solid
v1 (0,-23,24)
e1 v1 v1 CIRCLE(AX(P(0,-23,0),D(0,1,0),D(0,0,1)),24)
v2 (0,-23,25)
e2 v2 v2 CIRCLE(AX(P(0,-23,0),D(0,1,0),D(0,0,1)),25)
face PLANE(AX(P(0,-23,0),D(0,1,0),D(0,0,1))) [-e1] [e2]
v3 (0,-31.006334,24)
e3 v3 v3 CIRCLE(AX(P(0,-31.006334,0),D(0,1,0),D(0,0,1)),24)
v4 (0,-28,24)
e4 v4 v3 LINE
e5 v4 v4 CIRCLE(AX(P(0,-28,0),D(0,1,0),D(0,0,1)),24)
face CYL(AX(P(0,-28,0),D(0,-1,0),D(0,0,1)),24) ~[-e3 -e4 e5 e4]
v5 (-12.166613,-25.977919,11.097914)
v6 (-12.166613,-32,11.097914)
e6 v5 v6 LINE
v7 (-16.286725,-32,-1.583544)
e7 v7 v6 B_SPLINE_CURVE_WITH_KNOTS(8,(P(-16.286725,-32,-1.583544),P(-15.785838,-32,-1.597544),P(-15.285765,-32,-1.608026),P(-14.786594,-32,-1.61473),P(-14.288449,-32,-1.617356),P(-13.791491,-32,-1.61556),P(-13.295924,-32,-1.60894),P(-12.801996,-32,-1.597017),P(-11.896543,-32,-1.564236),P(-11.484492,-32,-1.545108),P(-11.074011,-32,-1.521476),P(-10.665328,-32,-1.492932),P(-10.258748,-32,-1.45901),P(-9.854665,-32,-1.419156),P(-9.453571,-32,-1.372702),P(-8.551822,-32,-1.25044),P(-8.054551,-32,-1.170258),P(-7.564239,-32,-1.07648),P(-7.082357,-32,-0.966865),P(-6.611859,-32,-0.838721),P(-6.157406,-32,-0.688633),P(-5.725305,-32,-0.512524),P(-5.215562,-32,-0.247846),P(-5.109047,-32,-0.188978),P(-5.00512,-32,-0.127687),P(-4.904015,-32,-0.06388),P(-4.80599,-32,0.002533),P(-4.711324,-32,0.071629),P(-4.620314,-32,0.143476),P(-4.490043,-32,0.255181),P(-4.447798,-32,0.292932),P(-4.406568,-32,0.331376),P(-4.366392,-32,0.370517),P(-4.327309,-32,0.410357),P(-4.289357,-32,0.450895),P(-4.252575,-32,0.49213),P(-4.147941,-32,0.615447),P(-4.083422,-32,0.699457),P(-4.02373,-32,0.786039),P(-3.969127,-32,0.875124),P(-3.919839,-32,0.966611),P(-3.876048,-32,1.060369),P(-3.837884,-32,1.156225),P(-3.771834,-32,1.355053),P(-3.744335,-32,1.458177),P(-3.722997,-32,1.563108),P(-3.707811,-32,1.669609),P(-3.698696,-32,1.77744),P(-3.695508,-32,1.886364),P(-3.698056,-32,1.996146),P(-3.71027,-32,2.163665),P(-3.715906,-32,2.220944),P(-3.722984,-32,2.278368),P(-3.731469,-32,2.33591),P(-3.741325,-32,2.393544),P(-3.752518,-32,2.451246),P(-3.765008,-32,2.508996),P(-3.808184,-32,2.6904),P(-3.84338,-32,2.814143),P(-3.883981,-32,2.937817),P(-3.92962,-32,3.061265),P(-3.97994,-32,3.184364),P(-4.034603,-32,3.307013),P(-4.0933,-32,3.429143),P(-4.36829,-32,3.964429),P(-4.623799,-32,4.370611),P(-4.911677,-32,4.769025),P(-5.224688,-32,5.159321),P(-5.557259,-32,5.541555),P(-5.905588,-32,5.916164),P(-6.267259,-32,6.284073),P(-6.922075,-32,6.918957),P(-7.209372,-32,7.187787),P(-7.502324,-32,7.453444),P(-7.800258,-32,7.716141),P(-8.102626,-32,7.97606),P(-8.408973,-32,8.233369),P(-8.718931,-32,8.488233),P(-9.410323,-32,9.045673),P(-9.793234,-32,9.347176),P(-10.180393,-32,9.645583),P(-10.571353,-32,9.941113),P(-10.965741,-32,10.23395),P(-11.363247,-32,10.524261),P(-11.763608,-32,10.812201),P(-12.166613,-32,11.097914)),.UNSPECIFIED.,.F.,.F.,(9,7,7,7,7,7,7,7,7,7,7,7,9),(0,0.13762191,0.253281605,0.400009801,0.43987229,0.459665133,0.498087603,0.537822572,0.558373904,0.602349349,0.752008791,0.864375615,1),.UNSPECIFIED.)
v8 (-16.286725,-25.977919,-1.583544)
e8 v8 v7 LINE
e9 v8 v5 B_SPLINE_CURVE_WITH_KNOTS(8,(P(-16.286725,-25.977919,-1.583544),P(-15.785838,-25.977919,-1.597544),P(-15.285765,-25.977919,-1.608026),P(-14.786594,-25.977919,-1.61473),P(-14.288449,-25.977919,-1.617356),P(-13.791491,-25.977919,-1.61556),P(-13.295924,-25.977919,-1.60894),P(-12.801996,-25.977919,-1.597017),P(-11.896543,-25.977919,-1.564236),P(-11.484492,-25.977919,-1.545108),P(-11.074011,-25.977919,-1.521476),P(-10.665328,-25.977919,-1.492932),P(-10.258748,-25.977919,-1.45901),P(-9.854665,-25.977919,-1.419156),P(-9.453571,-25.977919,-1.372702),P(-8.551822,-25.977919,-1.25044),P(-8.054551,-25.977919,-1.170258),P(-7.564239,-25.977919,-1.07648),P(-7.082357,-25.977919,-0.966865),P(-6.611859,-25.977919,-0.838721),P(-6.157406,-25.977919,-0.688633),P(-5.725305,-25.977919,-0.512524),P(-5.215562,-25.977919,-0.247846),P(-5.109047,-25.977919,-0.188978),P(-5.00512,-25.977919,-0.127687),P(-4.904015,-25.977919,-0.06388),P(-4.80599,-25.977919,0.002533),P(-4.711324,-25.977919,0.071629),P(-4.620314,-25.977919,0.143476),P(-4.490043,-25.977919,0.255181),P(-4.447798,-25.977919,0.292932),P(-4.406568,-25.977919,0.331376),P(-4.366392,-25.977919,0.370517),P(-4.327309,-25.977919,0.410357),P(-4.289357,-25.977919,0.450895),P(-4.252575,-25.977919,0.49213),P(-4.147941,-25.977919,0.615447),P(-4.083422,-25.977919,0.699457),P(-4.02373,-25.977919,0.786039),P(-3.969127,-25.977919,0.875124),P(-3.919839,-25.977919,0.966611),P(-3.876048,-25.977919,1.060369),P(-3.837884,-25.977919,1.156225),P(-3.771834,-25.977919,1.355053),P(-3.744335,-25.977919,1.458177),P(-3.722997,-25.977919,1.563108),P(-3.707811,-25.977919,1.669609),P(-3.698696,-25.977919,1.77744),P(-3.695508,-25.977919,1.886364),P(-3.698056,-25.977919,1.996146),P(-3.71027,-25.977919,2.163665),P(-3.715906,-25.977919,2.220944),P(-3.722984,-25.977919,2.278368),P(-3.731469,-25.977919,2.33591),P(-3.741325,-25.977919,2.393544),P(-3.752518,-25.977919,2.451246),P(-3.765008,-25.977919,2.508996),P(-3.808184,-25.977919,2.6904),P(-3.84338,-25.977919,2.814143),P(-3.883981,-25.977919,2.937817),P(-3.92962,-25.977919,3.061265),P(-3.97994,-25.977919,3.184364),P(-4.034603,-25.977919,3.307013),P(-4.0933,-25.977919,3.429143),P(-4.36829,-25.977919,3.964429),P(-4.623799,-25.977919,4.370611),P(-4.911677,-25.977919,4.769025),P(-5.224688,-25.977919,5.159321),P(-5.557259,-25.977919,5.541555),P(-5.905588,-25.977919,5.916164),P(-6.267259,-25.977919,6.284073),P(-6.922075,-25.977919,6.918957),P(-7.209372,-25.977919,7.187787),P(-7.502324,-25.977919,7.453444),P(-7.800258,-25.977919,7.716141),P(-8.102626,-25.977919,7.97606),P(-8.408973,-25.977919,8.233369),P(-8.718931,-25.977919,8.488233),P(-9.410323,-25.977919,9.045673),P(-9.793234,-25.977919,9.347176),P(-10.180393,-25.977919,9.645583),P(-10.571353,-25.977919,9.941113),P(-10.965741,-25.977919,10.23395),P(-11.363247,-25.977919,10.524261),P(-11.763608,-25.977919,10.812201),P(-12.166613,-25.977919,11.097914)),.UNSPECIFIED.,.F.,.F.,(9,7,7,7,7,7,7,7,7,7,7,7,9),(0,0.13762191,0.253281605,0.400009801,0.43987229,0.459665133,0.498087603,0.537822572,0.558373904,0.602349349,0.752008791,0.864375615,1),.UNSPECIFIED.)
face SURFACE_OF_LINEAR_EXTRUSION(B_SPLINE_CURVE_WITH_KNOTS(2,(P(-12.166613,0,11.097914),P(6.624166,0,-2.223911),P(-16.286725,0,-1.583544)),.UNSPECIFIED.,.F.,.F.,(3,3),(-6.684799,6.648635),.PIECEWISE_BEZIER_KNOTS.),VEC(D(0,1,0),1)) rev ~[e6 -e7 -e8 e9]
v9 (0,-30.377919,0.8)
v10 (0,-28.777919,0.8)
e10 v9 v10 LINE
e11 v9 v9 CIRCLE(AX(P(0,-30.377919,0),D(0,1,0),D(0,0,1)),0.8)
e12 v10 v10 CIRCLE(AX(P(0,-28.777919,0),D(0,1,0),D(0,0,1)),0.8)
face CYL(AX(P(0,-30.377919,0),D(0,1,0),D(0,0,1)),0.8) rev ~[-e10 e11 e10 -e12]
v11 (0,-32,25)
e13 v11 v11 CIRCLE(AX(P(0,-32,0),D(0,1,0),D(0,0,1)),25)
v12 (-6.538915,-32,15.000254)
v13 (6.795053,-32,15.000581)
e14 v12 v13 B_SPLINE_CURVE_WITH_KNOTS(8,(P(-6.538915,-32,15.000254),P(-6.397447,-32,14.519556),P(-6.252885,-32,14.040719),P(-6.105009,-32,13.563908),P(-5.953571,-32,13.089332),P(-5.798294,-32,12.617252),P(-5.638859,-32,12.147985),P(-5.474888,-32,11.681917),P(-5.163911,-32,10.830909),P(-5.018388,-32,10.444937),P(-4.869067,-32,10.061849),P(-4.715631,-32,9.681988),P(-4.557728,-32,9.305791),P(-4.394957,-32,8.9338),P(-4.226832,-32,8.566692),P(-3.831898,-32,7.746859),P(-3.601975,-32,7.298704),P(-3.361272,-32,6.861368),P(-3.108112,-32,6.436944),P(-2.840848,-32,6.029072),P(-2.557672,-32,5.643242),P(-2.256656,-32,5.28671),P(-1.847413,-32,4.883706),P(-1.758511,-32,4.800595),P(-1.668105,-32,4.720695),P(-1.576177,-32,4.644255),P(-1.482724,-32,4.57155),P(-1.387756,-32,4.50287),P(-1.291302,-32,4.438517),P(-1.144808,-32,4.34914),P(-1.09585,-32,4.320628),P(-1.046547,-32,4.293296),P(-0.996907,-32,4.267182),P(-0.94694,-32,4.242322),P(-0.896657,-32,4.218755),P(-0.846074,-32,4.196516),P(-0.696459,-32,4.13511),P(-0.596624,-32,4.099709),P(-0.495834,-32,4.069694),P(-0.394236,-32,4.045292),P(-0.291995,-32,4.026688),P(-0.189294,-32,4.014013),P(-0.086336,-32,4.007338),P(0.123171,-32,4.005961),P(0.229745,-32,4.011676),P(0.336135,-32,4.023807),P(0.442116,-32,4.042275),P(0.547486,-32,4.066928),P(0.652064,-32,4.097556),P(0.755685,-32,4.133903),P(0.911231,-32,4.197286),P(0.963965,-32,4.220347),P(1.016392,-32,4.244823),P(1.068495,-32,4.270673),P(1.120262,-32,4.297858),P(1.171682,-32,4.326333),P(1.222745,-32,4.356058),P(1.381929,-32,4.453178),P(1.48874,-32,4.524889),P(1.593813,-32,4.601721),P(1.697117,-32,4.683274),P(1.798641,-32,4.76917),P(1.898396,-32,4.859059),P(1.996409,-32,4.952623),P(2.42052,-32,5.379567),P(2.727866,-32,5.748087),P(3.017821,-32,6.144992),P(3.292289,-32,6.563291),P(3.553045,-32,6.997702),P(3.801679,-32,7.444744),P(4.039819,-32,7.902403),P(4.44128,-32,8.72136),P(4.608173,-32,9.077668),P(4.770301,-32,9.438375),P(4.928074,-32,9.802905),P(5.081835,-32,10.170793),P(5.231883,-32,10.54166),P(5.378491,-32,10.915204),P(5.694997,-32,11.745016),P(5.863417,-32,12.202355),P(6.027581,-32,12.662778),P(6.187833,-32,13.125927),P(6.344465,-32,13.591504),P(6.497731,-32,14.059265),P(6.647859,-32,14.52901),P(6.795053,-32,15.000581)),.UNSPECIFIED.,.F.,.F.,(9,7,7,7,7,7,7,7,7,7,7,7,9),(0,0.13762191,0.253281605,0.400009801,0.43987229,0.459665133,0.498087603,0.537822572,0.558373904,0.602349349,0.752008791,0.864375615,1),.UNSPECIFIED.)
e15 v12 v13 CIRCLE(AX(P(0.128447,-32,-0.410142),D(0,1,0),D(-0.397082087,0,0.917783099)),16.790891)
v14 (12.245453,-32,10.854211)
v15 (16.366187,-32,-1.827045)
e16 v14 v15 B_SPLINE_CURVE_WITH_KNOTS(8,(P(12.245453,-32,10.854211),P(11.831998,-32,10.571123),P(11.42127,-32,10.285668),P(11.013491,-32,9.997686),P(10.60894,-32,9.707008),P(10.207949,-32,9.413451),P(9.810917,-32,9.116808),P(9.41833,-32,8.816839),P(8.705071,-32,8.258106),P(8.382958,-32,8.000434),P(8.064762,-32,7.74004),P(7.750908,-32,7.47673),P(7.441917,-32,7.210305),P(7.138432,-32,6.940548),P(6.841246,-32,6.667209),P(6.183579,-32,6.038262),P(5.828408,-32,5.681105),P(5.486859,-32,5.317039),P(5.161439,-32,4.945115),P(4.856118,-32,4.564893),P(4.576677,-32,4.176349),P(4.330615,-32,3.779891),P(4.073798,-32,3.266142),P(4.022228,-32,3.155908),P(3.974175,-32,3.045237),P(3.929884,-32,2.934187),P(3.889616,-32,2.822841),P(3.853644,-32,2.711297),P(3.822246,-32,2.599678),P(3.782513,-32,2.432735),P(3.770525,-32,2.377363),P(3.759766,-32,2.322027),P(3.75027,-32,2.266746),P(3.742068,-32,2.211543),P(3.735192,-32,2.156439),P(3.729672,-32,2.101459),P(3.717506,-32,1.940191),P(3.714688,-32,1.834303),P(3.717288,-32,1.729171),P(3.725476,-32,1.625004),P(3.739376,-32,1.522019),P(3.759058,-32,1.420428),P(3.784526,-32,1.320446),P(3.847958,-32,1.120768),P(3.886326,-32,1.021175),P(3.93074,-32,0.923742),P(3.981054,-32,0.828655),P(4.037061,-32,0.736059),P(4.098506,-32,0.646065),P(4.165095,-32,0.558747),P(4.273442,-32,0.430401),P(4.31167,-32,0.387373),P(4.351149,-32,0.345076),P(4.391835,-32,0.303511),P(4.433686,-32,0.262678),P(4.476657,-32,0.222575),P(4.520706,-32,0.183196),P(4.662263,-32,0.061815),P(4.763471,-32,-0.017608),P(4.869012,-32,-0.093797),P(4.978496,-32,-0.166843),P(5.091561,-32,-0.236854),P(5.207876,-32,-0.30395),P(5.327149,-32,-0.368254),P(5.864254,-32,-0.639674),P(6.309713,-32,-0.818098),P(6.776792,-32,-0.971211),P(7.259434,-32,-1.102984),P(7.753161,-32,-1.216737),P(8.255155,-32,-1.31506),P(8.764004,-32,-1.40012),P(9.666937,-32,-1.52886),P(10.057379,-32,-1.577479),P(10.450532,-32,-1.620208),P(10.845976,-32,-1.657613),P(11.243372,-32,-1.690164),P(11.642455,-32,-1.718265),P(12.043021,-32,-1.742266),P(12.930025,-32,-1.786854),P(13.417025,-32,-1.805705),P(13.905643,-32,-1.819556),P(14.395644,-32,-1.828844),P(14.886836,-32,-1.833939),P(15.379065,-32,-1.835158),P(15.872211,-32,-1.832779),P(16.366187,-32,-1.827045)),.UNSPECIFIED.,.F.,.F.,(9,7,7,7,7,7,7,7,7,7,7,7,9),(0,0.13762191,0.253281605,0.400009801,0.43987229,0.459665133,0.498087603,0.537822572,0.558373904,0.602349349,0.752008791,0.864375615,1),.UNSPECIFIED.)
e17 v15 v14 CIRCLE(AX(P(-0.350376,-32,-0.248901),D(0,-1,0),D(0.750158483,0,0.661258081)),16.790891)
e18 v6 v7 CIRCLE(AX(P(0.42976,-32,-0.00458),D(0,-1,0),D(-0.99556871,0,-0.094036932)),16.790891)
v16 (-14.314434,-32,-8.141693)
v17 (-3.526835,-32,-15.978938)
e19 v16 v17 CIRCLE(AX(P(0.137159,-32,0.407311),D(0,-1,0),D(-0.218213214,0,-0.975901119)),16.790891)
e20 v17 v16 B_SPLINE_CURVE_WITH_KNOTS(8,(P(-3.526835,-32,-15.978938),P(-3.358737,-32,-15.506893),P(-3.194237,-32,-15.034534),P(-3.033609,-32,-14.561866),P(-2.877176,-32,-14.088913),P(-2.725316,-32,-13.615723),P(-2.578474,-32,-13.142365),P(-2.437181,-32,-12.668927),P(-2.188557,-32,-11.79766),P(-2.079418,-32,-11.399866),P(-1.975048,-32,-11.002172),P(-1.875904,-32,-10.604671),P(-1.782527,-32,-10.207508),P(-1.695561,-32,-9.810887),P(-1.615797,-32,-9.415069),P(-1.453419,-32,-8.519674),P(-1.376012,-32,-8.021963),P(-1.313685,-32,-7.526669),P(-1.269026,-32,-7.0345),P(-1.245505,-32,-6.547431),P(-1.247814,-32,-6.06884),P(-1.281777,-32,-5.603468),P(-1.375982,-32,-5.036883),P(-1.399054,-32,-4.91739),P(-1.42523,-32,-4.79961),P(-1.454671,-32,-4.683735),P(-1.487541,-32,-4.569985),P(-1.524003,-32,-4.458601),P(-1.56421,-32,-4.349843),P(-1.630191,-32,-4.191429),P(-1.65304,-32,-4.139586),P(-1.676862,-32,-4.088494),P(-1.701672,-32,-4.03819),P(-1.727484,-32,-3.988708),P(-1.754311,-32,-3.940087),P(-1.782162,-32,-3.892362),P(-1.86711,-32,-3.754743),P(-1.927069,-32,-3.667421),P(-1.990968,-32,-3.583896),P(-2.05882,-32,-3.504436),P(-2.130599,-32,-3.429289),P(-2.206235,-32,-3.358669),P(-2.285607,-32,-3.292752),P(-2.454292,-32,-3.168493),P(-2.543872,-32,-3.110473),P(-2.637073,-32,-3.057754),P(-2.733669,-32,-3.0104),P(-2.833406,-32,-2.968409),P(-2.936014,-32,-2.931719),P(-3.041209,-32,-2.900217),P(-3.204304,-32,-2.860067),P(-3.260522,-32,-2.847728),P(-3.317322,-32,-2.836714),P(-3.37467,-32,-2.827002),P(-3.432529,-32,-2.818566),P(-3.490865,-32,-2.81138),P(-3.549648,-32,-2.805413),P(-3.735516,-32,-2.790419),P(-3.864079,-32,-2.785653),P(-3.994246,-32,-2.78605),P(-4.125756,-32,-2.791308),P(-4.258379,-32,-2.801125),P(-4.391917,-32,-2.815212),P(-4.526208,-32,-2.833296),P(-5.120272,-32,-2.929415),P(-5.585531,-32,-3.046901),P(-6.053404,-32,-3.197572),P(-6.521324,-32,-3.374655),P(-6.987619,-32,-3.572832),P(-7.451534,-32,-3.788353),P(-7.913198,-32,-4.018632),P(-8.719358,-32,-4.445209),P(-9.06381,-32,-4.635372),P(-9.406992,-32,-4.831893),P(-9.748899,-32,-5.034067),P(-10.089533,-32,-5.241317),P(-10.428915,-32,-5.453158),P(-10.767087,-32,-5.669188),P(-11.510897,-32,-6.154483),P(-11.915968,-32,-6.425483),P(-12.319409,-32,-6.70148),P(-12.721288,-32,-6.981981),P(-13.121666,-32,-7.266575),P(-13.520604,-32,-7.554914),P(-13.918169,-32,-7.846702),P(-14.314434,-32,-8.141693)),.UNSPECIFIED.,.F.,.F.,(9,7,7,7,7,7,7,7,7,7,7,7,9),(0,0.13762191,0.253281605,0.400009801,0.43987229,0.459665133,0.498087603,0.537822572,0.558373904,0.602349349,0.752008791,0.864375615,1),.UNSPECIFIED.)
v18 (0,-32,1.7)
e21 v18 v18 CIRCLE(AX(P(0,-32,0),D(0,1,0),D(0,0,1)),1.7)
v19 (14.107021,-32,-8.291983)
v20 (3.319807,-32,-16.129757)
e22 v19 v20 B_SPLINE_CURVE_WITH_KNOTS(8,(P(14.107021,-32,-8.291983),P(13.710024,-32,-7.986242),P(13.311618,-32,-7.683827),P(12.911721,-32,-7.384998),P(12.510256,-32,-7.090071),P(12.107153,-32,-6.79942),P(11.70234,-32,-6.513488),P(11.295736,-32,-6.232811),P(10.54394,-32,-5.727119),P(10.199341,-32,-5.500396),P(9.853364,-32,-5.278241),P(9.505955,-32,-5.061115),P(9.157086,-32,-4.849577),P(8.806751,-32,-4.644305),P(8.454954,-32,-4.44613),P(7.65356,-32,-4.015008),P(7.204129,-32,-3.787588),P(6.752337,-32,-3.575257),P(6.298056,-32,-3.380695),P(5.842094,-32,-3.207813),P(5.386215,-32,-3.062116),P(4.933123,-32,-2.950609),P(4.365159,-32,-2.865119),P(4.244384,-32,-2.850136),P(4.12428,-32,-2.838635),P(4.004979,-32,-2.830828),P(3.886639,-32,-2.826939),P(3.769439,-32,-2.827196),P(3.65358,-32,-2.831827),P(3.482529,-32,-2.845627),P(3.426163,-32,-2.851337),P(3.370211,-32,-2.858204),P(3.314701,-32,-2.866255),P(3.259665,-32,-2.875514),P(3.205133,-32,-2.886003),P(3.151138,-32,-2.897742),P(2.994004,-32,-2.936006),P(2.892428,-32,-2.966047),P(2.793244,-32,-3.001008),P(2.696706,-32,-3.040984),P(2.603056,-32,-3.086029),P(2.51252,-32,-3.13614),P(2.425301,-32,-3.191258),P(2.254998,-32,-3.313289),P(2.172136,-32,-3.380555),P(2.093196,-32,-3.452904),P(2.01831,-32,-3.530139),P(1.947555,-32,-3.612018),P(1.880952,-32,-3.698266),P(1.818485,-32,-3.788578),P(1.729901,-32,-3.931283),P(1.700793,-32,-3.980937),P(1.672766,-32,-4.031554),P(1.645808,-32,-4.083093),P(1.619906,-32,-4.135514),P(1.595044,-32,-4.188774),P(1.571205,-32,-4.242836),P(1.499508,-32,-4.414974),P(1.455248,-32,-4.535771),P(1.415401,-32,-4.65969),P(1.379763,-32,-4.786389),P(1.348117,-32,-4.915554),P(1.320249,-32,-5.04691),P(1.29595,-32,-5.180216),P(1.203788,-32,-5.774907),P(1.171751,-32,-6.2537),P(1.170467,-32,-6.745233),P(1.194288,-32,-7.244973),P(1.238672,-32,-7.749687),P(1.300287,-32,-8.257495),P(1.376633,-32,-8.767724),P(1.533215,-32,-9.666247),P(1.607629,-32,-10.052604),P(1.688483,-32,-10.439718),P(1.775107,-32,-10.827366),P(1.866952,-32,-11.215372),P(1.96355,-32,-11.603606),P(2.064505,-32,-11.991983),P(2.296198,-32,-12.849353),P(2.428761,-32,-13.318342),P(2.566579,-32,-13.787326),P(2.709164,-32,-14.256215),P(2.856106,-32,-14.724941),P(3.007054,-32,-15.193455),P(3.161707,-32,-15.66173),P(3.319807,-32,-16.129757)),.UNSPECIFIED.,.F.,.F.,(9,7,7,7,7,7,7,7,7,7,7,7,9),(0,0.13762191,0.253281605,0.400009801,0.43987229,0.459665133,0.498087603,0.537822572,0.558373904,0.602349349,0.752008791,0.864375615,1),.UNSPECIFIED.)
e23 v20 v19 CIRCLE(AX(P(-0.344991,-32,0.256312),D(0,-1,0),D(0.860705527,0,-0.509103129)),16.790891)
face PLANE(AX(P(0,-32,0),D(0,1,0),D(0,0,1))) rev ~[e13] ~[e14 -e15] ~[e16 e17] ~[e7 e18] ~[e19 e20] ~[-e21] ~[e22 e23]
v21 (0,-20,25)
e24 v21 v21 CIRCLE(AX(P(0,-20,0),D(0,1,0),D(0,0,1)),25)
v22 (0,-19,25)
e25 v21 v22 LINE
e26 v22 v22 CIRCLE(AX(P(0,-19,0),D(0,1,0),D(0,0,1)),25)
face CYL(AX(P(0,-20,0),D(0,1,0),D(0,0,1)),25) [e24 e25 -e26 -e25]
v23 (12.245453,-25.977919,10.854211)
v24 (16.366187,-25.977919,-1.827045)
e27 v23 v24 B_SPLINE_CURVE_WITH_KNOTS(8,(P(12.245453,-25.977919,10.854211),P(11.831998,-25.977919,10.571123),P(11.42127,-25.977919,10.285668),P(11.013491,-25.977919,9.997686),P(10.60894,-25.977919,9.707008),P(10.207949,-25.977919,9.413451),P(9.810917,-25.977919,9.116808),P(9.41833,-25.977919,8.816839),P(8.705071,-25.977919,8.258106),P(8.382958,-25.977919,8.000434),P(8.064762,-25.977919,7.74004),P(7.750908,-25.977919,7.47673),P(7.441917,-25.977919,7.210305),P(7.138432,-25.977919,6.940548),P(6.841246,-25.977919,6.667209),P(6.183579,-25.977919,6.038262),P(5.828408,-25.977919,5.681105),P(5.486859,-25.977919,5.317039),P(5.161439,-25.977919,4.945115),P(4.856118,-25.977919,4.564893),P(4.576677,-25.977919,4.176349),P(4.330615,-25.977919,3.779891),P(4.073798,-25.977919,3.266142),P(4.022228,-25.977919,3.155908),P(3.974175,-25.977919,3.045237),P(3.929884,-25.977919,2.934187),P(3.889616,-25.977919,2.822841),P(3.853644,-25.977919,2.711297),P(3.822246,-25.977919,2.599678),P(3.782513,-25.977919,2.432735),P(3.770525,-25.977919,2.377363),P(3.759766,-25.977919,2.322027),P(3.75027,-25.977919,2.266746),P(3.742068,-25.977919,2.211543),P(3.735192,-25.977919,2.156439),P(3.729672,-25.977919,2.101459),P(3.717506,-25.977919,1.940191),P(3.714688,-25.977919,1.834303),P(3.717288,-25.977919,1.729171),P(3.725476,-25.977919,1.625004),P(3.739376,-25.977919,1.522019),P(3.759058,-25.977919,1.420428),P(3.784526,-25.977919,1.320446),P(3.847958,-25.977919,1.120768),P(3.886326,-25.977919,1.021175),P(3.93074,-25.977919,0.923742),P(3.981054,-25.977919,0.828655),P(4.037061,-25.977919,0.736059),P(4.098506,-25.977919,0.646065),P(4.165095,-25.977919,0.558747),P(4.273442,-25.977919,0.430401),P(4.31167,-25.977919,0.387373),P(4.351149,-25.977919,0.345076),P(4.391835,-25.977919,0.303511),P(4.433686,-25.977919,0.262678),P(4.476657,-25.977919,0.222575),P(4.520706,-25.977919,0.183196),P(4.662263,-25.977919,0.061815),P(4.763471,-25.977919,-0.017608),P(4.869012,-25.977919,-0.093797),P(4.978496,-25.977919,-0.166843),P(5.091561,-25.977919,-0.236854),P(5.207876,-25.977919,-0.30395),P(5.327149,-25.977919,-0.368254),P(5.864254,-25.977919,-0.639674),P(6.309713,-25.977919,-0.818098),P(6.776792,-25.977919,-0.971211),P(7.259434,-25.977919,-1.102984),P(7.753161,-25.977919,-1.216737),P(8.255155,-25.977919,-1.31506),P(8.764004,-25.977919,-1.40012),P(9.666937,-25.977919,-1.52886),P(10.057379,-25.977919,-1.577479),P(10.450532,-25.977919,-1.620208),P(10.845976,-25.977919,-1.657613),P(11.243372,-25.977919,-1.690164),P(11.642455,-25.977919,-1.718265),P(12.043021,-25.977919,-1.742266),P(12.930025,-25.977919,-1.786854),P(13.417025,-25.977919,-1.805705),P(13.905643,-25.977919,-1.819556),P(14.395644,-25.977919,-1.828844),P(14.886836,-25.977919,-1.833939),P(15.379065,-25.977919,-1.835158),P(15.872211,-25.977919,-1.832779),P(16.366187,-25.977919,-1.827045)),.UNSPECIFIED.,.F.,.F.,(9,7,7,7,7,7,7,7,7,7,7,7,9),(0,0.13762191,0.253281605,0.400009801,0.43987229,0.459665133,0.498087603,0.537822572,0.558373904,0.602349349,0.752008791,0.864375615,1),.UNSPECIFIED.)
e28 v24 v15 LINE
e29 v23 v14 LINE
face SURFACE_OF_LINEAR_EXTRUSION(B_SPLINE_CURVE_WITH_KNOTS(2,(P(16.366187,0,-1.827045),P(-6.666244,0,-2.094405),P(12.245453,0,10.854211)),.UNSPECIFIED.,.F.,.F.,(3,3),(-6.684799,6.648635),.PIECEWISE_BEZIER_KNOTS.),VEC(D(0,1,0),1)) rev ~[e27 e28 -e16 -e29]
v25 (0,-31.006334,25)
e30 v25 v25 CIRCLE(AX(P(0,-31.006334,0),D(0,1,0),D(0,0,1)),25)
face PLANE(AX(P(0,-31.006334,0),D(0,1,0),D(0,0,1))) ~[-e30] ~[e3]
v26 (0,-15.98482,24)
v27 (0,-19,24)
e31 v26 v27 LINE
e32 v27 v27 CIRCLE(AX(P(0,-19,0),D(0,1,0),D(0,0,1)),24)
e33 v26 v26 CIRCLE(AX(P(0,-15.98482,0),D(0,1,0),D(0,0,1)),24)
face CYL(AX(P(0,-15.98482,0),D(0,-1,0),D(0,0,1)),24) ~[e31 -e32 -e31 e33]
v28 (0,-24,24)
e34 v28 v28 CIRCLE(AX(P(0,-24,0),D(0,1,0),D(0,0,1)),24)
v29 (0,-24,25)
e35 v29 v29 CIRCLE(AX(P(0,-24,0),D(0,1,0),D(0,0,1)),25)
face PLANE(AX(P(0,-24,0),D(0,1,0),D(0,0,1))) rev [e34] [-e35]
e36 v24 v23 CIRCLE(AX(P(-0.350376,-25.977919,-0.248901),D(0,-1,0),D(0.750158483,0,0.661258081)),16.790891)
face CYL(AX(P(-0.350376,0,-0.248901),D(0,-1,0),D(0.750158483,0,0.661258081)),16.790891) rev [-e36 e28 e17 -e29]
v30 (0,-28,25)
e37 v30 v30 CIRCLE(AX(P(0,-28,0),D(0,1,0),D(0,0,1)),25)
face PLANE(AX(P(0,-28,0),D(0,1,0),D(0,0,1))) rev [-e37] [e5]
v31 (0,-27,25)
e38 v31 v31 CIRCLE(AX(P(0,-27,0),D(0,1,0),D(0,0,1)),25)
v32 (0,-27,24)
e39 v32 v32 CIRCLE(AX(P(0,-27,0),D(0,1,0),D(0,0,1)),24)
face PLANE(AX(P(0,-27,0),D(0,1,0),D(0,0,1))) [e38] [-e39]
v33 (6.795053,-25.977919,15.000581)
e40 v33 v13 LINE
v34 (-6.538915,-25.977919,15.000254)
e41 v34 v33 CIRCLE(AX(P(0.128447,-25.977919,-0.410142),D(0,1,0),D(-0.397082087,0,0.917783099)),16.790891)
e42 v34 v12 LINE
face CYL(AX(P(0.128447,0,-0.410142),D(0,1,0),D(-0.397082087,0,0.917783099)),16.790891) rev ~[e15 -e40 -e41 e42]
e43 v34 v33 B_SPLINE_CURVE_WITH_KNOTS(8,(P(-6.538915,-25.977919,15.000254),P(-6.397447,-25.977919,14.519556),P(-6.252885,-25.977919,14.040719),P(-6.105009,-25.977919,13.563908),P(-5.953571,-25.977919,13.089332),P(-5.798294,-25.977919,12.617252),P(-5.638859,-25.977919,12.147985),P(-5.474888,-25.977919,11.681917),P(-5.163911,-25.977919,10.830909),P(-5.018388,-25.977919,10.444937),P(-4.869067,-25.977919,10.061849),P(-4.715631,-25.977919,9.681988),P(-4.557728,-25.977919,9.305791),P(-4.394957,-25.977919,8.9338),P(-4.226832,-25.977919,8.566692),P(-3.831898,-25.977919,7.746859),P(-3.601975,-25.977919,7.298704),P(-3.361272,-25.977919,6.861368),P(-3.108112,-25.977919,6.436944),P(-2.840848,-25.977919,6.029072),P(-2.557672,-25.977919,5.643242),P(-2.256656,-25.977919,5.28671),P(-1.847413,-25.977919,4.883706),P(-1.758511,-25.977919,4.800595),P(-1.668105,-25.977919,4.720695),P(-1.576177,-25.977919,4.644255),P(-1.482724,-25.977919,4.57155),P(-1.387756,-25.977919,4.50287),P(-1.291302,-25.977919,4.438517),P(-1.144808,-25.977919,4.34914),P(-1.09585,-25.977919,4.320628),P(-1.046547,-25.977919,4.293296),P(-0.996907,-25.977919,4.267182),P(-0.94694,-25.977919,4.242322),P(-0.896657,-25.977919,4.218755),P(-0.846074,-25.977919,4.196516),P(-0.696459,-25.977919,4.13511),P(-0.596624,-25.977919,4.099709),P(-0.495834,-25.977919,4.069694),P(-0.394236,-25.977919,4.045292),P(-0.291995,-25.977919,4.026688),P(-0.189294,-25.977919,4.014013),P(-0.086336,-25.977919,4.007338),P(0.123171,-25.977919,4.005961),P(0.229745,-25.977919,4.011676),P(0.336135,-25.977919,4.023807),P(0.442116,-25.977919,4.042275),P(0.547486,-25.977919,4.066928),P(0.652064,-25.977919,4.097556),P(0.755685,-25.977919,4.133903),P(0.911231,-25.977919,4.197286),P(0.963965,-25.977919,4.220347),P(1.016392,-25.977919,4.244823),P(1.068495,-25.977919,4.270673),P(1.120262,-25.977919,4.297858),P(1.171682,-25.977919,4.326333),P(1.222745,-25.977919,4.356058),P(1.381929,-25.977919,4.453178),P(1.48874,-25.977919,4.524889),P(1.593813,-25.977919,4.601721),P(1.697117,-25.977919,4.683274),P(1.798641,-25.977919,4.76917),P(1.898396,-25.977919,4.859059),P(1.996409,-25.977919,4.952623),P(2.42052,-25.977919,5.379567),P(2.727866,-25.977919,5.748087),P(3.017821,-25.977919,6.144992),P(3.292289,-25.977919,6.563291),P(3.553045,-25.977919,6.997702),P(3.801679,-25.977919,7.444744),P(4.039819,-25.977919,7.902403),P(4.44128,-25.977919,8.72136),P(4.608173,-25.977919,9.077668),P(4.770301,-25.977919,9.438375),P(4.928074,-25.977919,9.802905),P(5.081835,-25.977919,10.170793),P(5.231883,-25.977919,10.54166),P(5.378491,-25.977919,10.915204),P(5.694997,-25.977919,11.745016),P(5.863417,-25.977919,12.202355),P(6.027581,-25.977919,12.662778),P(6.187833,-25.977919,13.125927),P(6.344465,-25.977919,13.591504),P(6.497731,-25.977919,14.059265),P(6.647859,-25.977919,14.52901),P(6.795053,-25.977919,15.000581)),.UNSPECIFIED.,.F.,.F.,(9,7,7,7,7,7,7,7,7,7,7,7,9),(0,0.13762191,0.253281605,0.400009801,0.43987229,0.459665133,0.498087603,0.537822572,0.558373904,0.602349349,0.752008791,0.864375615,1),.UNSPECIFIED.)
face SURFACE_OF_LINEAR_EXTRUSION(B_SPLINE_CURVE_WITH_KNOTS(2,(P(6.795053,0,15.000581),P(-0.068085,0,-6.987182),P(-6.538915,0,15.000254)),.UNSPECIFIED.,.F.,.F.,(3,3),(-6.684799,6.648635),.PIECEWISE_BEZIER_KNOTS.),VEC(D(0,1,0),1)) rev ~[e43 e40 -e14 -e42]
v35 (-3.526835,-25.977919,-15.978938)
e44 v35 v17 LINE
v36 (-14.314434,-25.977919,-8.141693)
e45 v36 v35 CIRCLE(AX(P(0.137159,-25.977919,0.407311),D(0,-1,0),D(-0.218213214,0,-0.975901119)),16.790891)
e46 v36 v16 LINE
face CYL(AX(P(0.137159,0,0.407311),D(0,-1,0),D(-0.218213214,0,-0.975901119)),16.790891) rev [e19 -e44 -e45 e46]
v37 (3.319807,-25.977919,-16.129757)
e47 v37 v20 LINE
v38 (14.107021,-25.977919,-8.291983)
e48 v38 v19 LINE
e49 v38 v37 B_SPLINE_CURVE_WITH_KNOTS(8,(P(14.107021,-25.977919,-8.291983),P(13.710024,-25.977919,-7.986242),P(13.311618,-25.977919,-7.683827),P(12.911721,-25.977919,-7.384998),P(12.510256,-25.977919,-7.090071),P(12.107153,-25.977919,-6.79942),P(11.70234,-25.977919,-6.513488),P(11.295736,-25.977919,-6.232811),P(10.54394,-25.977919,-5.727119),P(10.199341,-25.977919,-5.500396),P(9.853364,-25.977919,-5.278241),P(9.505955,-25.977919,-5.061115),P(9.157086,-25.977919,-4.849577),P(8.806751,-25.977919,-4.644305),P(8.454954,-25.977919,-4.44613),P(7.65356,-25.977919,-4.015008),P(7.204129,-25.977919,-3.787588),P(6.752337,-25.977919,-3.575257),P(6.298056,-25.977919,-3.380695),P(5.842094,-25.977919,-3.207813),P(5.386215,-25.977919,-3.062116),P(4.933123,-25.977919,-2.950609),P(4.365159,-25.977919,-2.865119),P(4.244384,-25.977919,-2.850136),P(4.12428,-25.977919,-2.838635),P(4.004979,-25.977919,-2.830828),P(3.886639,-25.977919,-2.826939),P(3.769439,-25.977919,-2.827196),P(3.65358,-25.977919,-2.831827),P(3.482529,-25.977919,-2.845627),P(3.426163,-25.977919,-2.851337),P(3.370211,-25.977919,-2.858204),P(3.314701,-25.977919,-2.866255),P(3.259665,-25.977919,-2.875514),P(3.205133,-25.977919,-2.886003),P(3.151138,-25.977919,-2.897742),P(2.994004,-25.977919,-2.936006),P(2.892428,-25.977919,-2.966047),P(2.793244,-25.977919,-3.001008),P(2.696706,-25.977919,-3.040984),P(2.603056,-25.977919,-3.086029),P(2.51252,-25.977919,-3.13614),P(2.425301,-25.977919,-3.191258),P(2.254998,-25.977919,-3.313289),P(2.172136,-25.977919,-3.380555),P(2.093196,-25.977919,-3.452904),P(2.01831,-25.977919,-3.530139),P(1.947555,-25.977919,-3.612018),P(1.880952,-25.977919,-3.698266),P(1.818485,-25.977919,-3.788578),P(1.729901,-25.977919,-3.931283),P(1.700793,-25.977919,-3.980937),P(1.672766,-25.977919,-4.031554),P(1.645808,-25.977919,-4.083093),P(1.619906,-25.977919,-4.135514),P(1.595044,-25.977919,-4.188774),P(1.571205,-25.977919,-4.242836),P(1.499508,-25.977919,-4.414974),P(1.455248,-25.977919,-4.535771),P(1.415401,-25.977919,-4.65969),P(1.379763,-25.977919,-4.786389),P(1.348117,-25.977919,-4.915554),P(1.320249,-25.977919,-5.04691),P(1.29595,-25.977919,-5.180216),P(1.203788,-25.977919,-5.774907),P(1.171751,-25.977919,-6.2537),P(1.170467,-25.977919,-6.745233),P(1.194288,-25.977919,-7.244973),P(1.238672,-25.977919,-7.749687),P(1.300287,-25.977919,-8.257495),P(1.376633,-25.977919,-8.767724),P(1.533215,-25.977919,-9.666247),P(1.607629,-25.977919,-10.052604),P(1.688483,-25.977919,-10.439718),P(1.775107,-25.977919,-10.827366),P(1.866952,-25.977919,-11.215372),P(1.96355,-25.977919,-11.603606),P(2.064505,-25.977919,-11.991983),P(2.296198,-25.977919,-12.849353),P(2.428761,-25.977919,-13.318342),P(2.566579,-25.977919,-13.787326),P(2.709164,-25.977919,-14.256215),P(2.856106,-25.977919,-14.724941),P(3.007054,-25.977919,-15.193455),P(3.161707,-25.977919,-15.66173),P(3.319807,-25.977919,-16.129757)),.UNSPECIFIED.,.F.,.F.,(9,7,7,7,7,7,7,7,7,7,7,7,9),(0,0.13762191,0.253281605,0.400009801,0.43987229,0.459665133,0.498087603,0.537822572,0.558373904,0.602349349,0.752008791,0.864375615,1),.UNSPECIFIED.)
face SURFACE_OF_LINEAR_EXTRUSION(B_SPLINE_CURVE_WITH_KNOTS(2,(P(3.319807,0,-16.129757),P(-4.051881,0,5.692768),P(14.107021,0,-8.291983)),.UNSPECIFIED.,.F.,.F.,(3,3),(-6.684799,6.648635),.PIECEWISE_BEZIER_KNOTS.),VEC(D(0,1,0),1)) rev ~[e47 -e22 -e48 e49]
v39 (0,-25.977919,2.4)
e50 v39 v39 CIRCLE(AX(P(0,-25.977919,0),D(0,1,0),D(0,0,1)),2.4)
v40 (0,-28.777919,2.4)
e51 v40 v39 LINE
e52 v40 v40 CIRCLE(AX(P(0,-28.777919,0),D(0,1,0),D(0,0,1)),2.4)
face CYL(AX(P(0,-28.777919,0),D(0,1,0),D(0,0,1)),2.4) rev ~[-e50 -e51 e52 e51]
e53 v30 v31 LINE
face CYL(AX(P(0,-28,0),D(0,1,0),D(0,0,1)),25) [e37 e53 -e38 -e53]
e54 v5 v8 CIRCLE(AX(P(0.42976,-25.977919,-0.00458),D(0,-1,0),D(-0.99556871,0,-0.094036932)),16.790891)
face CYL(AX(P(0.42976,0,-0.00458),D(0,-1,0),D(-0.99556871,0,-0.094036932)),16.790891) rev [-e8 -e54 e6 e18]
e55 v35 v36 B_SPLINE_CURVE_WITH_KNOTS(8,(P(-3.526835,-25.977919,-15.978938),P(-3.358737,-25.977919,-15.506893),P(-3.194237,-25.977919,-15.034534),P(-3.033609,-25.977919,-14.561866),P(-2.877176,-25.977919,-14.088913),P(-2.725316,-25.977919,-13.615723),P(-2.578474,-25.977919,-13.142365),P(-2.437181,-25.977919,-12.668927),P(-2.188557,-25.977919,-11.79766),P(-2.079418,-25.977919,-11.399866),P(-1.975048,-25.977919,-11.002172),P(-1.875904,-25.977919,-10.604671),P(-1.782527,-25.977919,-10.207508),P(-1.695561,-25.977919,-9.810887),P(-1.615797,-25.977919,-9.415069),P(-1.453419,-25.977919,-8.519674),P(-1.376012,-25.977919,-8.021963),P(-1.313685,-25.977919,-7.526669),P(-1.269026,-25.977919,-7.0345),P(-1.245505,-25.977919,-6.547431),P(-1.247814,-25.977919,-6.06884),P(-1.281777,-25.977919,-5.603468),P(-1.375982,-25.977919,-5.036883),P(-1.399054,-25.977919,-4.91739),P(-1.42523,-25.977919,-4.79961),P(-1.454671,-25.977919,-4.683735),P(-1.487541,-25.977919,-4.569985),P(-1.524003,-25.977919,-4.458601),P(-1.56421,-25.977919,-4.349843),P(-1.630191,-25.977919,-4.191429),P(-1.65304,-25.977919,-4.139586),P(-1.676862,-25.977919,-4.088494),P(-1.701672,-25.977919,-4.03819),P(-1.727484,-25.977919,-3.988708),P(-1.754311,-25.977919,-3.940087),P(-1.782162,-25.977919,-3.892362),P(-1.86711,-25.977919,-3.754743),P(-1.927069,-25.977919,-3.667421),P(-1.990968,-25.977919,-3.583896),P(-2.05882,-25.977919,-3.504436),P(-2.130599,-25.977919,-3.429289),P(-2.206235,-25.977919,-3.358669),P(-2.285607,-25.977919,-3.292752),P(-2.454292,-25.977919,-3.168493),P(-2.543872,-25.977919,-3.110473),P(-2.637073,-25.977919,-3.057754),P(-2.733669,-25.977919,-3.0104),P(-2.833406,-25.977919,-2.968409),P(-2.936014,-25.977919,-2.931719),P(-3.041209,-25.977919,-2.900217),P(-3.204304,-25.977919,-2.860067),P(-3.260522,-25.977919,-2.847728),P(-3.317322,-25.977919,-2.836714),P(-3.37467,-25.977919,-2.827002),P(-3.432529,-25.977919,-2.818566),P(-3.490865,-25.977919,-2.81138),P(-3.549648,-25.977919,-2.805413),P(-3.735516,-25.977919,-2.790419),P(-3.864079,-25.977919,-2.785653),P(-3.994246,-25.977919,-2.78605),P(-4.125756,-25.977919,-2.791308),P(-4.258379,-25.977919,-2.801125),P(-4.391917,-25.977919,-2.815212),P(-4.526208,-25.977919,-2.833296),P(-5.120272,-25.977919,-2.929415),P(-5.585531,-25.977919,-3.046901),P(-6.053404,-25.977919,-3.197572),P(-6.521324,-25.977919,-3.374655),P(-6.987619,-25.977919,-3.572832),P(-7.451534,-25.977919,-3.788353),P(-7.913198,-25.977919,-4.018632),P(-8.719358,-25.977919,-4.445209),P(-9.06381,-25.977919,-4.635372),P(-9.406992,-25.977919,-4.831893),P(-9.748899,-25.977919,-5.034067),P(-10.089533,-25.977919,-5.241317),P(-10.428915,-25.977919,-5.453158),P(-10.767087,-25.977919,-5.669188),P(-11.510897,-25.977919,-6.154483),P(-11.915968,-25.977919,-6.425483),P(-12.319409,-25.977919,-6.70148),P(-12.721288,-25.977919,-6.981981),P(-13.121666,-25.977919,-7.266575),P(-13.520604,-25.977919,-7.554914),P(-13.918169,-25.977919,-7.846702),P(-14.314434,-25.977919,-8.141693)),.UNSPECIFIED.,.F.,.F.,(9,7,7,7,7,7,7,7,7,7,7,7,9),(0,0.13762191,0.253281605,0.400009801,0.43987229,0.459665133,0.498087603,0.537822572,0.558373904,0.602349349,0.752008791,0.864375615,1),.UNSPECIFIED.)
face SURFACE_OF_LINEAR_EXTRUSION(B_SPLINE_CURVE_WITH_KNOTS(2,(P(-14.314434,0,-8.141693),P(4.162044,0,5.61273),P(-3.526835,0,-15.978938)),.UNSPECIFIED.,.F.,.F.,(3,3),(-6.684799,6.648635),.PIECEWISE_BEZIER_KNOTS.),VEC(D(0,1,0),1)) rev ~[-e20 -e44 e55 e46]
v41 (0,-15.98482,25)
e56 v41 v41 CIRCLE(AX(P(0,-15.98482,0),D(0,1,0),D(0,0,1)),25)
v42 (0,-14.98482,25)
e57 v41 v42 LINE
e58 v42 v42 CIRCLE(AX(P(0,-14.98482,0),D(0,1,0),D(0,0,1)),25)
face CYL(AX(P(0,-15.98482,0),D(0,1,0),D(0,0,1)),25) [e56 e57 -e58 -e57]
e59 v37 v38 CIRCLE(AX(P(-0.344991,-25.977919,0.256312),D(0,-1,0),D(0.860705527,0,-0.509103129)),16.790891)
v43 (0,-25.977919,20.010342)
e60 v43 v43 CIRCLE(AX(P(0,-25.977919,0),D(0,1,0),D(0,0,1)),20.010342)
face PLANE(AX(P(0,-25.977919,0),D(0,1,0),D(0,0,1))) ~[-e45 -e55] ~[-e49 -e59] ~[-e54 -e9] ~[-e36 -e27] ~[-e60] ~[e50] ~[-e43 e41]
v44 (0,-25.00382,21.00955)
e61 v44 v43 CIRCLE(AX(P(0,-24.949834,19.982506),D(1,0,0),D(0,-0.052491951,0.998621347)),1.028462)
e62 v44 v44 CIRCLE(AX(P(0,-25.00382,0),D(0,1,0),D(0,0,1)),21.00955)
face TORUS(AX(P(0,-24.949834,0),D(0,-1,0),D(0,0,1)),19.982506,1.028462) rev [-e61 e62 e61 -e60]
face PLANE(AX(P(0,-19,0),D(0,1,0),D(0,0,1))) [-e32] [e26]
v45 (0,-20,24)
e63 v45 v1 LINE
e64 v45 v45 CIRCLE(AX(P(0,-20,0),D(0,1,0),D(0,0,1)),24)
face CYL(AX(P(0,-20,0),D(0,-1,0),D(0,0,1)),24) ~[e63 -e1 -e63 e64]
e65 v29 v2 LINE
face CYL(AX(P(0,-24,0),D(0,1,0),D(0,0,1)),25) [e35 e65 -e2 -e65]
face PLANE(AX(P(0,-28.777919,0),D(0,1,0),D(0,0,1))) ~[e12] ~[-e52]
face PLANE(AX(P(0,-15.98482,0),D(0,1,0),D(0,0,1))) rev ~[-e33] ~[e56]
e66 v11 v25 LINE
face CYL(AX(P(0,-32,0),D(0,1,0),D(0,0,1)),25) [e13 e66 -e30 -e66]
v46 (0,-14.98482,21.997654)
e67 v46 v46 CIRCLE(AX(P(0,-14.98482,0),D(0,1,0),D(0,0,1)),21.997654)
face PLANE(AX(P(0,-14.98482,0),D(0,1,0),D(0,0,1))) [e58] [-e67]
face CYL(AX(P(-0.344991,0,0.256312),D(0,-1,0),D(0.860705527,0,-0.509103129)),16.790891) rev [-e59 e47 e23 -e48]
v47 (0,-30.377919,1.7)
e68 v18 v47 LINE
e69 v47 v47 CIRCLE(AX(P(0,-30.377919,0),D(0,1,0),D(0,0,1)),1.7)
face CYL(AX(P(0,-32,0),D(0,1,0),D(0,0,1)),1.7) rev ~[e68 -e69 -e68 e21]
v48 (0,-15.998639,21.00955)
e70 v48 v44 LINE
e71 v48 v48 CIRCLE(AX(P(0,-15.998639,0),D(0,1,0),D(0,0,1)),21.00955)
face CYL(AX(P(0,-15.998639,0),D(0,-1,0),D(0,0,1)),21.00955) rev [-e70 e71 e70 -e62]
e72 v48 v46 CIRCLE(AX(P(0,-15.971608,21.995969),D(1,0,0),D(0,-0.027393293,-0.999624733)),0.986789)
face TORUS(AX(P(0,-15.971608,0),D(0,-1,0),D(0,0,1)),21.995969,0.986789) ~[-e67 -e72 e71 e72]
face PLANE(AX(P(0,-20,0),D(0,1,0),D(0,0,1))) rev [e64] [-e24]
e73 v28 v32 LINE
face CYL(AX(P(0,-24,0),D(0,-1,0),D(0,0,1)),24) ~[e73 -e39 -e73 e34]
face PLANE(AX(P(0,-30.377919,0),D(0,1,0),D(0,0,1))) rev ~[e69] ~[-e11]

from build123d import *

# Parameters (mm, degrees)
POCKET_DEPTH       = 145.459123
POCKET_DEPTH_BACK  = 177.459123
POLARPATTERN_COUNT = 5


with BuildPart() as part:
    # Sketch009 → Revolution (revolve)
    with BuildSketch(Plane.YZ):
        with BuildLine():
            Line((-32, 25), (-31.006334, 25))
            Line((-31.006334, 24), (-31.006334, 25))
            Line((-28, 24), (-31.006334, 24))
            Line((-28, 24), (-28, 25))
            Line((-28, 25), (-27, 25))
            Line((-27, 25), (-27, 24))
            Line((-24, 24), (-27, 24))
            Line((-24, 24), (-24, 25))
            Line((-24, 25), (-23, 25))
            Line((-23, 25), (-23, 24))
            Line((-20, 24), (-23, 24))
            Line((-20, 24), (-20, 25))
            Line((-20, 25), (-19, 25))
            Line((-19, 25), (-19, 24))
            Line((-15.98482, 24), (-19, 24))
            Line((-15.98482, 25), (-15.98482, 24))
            Line((-15.98482, 25), (-14.98482, 25))
            Line((-14.98482, 25), (-14.98482, 21.997654))
            ThreePointArc((-15.998639, 21.00955), (-15.282862, 21.289299), (-14.98482, 21.997654))
            Line((-15.998639, 21.00955), (-25.00382, 21.00955))
            ThreePointArc((-25.00382, 21.00955), (-25.68626, 20.700427), (-25.977919, 20.010342))
            Line((-25.977919, 2.4), (-25.977919, 20.010342))
            Line((-28.777919, 2.4), (-25.977919, 2.4))
            Line((-28.777919, 0.8), (-28.777919, 2.4))
            Line((-30.377919, 0.8), (-28.777919, 0.8))
            Line((-30.377919, 1.7), (-30.377919, 0.8))
            Line((-32, 1.7), (-30.377919, 1.7))
            Line((-32, 25), (-32, 1.7))
        make_face()
    revolve(axis=Axis((0, 0, 0), (0, 1, 0)))

    # Sketch010 → Pocket (cut, two sides)
    with BuildSketch(Plane(origin=(-5.2, 0, 0), x_dir=(1, 0, 0), z_dir=(0, -1, 0))) as pocket_sk:
        with BuildLine():
            add(Edge.make_bspline(
                [(11.995053, 15.000581), (5.131915, -6.987182), (-1.338915, 15.000254)],
                knots=[-6.684799, -6.684799, -6.684799, 6.648635, 6.648635, 6.648635], degree=2))
            ThreePointArc((-1.338915, 15.000254), (5.328035, 16.380749), (11.995053, 15.000581))
        make_face()
    pocket = extrude(amount=-POCKET_DEPTH, mode=Mode.SUBTRACT) + extrude(pocket_sk.sketch, amount=POCKET_DEPTH_BACK, mode=Mode.SUBTRACT)

    # PolarPattern: Pocket ×5 about axis
    polarpattern_axis = Axis((0, 0, 0), (0, 1, 0))
    for i in range(1, POLARPATTERN_COUNT):
        add(pocket.rotate(polarpattern_axis, i * 360 / POLARPATTERN_COUNT), mode=Mode.SUBTRACT)


solid = part.part
